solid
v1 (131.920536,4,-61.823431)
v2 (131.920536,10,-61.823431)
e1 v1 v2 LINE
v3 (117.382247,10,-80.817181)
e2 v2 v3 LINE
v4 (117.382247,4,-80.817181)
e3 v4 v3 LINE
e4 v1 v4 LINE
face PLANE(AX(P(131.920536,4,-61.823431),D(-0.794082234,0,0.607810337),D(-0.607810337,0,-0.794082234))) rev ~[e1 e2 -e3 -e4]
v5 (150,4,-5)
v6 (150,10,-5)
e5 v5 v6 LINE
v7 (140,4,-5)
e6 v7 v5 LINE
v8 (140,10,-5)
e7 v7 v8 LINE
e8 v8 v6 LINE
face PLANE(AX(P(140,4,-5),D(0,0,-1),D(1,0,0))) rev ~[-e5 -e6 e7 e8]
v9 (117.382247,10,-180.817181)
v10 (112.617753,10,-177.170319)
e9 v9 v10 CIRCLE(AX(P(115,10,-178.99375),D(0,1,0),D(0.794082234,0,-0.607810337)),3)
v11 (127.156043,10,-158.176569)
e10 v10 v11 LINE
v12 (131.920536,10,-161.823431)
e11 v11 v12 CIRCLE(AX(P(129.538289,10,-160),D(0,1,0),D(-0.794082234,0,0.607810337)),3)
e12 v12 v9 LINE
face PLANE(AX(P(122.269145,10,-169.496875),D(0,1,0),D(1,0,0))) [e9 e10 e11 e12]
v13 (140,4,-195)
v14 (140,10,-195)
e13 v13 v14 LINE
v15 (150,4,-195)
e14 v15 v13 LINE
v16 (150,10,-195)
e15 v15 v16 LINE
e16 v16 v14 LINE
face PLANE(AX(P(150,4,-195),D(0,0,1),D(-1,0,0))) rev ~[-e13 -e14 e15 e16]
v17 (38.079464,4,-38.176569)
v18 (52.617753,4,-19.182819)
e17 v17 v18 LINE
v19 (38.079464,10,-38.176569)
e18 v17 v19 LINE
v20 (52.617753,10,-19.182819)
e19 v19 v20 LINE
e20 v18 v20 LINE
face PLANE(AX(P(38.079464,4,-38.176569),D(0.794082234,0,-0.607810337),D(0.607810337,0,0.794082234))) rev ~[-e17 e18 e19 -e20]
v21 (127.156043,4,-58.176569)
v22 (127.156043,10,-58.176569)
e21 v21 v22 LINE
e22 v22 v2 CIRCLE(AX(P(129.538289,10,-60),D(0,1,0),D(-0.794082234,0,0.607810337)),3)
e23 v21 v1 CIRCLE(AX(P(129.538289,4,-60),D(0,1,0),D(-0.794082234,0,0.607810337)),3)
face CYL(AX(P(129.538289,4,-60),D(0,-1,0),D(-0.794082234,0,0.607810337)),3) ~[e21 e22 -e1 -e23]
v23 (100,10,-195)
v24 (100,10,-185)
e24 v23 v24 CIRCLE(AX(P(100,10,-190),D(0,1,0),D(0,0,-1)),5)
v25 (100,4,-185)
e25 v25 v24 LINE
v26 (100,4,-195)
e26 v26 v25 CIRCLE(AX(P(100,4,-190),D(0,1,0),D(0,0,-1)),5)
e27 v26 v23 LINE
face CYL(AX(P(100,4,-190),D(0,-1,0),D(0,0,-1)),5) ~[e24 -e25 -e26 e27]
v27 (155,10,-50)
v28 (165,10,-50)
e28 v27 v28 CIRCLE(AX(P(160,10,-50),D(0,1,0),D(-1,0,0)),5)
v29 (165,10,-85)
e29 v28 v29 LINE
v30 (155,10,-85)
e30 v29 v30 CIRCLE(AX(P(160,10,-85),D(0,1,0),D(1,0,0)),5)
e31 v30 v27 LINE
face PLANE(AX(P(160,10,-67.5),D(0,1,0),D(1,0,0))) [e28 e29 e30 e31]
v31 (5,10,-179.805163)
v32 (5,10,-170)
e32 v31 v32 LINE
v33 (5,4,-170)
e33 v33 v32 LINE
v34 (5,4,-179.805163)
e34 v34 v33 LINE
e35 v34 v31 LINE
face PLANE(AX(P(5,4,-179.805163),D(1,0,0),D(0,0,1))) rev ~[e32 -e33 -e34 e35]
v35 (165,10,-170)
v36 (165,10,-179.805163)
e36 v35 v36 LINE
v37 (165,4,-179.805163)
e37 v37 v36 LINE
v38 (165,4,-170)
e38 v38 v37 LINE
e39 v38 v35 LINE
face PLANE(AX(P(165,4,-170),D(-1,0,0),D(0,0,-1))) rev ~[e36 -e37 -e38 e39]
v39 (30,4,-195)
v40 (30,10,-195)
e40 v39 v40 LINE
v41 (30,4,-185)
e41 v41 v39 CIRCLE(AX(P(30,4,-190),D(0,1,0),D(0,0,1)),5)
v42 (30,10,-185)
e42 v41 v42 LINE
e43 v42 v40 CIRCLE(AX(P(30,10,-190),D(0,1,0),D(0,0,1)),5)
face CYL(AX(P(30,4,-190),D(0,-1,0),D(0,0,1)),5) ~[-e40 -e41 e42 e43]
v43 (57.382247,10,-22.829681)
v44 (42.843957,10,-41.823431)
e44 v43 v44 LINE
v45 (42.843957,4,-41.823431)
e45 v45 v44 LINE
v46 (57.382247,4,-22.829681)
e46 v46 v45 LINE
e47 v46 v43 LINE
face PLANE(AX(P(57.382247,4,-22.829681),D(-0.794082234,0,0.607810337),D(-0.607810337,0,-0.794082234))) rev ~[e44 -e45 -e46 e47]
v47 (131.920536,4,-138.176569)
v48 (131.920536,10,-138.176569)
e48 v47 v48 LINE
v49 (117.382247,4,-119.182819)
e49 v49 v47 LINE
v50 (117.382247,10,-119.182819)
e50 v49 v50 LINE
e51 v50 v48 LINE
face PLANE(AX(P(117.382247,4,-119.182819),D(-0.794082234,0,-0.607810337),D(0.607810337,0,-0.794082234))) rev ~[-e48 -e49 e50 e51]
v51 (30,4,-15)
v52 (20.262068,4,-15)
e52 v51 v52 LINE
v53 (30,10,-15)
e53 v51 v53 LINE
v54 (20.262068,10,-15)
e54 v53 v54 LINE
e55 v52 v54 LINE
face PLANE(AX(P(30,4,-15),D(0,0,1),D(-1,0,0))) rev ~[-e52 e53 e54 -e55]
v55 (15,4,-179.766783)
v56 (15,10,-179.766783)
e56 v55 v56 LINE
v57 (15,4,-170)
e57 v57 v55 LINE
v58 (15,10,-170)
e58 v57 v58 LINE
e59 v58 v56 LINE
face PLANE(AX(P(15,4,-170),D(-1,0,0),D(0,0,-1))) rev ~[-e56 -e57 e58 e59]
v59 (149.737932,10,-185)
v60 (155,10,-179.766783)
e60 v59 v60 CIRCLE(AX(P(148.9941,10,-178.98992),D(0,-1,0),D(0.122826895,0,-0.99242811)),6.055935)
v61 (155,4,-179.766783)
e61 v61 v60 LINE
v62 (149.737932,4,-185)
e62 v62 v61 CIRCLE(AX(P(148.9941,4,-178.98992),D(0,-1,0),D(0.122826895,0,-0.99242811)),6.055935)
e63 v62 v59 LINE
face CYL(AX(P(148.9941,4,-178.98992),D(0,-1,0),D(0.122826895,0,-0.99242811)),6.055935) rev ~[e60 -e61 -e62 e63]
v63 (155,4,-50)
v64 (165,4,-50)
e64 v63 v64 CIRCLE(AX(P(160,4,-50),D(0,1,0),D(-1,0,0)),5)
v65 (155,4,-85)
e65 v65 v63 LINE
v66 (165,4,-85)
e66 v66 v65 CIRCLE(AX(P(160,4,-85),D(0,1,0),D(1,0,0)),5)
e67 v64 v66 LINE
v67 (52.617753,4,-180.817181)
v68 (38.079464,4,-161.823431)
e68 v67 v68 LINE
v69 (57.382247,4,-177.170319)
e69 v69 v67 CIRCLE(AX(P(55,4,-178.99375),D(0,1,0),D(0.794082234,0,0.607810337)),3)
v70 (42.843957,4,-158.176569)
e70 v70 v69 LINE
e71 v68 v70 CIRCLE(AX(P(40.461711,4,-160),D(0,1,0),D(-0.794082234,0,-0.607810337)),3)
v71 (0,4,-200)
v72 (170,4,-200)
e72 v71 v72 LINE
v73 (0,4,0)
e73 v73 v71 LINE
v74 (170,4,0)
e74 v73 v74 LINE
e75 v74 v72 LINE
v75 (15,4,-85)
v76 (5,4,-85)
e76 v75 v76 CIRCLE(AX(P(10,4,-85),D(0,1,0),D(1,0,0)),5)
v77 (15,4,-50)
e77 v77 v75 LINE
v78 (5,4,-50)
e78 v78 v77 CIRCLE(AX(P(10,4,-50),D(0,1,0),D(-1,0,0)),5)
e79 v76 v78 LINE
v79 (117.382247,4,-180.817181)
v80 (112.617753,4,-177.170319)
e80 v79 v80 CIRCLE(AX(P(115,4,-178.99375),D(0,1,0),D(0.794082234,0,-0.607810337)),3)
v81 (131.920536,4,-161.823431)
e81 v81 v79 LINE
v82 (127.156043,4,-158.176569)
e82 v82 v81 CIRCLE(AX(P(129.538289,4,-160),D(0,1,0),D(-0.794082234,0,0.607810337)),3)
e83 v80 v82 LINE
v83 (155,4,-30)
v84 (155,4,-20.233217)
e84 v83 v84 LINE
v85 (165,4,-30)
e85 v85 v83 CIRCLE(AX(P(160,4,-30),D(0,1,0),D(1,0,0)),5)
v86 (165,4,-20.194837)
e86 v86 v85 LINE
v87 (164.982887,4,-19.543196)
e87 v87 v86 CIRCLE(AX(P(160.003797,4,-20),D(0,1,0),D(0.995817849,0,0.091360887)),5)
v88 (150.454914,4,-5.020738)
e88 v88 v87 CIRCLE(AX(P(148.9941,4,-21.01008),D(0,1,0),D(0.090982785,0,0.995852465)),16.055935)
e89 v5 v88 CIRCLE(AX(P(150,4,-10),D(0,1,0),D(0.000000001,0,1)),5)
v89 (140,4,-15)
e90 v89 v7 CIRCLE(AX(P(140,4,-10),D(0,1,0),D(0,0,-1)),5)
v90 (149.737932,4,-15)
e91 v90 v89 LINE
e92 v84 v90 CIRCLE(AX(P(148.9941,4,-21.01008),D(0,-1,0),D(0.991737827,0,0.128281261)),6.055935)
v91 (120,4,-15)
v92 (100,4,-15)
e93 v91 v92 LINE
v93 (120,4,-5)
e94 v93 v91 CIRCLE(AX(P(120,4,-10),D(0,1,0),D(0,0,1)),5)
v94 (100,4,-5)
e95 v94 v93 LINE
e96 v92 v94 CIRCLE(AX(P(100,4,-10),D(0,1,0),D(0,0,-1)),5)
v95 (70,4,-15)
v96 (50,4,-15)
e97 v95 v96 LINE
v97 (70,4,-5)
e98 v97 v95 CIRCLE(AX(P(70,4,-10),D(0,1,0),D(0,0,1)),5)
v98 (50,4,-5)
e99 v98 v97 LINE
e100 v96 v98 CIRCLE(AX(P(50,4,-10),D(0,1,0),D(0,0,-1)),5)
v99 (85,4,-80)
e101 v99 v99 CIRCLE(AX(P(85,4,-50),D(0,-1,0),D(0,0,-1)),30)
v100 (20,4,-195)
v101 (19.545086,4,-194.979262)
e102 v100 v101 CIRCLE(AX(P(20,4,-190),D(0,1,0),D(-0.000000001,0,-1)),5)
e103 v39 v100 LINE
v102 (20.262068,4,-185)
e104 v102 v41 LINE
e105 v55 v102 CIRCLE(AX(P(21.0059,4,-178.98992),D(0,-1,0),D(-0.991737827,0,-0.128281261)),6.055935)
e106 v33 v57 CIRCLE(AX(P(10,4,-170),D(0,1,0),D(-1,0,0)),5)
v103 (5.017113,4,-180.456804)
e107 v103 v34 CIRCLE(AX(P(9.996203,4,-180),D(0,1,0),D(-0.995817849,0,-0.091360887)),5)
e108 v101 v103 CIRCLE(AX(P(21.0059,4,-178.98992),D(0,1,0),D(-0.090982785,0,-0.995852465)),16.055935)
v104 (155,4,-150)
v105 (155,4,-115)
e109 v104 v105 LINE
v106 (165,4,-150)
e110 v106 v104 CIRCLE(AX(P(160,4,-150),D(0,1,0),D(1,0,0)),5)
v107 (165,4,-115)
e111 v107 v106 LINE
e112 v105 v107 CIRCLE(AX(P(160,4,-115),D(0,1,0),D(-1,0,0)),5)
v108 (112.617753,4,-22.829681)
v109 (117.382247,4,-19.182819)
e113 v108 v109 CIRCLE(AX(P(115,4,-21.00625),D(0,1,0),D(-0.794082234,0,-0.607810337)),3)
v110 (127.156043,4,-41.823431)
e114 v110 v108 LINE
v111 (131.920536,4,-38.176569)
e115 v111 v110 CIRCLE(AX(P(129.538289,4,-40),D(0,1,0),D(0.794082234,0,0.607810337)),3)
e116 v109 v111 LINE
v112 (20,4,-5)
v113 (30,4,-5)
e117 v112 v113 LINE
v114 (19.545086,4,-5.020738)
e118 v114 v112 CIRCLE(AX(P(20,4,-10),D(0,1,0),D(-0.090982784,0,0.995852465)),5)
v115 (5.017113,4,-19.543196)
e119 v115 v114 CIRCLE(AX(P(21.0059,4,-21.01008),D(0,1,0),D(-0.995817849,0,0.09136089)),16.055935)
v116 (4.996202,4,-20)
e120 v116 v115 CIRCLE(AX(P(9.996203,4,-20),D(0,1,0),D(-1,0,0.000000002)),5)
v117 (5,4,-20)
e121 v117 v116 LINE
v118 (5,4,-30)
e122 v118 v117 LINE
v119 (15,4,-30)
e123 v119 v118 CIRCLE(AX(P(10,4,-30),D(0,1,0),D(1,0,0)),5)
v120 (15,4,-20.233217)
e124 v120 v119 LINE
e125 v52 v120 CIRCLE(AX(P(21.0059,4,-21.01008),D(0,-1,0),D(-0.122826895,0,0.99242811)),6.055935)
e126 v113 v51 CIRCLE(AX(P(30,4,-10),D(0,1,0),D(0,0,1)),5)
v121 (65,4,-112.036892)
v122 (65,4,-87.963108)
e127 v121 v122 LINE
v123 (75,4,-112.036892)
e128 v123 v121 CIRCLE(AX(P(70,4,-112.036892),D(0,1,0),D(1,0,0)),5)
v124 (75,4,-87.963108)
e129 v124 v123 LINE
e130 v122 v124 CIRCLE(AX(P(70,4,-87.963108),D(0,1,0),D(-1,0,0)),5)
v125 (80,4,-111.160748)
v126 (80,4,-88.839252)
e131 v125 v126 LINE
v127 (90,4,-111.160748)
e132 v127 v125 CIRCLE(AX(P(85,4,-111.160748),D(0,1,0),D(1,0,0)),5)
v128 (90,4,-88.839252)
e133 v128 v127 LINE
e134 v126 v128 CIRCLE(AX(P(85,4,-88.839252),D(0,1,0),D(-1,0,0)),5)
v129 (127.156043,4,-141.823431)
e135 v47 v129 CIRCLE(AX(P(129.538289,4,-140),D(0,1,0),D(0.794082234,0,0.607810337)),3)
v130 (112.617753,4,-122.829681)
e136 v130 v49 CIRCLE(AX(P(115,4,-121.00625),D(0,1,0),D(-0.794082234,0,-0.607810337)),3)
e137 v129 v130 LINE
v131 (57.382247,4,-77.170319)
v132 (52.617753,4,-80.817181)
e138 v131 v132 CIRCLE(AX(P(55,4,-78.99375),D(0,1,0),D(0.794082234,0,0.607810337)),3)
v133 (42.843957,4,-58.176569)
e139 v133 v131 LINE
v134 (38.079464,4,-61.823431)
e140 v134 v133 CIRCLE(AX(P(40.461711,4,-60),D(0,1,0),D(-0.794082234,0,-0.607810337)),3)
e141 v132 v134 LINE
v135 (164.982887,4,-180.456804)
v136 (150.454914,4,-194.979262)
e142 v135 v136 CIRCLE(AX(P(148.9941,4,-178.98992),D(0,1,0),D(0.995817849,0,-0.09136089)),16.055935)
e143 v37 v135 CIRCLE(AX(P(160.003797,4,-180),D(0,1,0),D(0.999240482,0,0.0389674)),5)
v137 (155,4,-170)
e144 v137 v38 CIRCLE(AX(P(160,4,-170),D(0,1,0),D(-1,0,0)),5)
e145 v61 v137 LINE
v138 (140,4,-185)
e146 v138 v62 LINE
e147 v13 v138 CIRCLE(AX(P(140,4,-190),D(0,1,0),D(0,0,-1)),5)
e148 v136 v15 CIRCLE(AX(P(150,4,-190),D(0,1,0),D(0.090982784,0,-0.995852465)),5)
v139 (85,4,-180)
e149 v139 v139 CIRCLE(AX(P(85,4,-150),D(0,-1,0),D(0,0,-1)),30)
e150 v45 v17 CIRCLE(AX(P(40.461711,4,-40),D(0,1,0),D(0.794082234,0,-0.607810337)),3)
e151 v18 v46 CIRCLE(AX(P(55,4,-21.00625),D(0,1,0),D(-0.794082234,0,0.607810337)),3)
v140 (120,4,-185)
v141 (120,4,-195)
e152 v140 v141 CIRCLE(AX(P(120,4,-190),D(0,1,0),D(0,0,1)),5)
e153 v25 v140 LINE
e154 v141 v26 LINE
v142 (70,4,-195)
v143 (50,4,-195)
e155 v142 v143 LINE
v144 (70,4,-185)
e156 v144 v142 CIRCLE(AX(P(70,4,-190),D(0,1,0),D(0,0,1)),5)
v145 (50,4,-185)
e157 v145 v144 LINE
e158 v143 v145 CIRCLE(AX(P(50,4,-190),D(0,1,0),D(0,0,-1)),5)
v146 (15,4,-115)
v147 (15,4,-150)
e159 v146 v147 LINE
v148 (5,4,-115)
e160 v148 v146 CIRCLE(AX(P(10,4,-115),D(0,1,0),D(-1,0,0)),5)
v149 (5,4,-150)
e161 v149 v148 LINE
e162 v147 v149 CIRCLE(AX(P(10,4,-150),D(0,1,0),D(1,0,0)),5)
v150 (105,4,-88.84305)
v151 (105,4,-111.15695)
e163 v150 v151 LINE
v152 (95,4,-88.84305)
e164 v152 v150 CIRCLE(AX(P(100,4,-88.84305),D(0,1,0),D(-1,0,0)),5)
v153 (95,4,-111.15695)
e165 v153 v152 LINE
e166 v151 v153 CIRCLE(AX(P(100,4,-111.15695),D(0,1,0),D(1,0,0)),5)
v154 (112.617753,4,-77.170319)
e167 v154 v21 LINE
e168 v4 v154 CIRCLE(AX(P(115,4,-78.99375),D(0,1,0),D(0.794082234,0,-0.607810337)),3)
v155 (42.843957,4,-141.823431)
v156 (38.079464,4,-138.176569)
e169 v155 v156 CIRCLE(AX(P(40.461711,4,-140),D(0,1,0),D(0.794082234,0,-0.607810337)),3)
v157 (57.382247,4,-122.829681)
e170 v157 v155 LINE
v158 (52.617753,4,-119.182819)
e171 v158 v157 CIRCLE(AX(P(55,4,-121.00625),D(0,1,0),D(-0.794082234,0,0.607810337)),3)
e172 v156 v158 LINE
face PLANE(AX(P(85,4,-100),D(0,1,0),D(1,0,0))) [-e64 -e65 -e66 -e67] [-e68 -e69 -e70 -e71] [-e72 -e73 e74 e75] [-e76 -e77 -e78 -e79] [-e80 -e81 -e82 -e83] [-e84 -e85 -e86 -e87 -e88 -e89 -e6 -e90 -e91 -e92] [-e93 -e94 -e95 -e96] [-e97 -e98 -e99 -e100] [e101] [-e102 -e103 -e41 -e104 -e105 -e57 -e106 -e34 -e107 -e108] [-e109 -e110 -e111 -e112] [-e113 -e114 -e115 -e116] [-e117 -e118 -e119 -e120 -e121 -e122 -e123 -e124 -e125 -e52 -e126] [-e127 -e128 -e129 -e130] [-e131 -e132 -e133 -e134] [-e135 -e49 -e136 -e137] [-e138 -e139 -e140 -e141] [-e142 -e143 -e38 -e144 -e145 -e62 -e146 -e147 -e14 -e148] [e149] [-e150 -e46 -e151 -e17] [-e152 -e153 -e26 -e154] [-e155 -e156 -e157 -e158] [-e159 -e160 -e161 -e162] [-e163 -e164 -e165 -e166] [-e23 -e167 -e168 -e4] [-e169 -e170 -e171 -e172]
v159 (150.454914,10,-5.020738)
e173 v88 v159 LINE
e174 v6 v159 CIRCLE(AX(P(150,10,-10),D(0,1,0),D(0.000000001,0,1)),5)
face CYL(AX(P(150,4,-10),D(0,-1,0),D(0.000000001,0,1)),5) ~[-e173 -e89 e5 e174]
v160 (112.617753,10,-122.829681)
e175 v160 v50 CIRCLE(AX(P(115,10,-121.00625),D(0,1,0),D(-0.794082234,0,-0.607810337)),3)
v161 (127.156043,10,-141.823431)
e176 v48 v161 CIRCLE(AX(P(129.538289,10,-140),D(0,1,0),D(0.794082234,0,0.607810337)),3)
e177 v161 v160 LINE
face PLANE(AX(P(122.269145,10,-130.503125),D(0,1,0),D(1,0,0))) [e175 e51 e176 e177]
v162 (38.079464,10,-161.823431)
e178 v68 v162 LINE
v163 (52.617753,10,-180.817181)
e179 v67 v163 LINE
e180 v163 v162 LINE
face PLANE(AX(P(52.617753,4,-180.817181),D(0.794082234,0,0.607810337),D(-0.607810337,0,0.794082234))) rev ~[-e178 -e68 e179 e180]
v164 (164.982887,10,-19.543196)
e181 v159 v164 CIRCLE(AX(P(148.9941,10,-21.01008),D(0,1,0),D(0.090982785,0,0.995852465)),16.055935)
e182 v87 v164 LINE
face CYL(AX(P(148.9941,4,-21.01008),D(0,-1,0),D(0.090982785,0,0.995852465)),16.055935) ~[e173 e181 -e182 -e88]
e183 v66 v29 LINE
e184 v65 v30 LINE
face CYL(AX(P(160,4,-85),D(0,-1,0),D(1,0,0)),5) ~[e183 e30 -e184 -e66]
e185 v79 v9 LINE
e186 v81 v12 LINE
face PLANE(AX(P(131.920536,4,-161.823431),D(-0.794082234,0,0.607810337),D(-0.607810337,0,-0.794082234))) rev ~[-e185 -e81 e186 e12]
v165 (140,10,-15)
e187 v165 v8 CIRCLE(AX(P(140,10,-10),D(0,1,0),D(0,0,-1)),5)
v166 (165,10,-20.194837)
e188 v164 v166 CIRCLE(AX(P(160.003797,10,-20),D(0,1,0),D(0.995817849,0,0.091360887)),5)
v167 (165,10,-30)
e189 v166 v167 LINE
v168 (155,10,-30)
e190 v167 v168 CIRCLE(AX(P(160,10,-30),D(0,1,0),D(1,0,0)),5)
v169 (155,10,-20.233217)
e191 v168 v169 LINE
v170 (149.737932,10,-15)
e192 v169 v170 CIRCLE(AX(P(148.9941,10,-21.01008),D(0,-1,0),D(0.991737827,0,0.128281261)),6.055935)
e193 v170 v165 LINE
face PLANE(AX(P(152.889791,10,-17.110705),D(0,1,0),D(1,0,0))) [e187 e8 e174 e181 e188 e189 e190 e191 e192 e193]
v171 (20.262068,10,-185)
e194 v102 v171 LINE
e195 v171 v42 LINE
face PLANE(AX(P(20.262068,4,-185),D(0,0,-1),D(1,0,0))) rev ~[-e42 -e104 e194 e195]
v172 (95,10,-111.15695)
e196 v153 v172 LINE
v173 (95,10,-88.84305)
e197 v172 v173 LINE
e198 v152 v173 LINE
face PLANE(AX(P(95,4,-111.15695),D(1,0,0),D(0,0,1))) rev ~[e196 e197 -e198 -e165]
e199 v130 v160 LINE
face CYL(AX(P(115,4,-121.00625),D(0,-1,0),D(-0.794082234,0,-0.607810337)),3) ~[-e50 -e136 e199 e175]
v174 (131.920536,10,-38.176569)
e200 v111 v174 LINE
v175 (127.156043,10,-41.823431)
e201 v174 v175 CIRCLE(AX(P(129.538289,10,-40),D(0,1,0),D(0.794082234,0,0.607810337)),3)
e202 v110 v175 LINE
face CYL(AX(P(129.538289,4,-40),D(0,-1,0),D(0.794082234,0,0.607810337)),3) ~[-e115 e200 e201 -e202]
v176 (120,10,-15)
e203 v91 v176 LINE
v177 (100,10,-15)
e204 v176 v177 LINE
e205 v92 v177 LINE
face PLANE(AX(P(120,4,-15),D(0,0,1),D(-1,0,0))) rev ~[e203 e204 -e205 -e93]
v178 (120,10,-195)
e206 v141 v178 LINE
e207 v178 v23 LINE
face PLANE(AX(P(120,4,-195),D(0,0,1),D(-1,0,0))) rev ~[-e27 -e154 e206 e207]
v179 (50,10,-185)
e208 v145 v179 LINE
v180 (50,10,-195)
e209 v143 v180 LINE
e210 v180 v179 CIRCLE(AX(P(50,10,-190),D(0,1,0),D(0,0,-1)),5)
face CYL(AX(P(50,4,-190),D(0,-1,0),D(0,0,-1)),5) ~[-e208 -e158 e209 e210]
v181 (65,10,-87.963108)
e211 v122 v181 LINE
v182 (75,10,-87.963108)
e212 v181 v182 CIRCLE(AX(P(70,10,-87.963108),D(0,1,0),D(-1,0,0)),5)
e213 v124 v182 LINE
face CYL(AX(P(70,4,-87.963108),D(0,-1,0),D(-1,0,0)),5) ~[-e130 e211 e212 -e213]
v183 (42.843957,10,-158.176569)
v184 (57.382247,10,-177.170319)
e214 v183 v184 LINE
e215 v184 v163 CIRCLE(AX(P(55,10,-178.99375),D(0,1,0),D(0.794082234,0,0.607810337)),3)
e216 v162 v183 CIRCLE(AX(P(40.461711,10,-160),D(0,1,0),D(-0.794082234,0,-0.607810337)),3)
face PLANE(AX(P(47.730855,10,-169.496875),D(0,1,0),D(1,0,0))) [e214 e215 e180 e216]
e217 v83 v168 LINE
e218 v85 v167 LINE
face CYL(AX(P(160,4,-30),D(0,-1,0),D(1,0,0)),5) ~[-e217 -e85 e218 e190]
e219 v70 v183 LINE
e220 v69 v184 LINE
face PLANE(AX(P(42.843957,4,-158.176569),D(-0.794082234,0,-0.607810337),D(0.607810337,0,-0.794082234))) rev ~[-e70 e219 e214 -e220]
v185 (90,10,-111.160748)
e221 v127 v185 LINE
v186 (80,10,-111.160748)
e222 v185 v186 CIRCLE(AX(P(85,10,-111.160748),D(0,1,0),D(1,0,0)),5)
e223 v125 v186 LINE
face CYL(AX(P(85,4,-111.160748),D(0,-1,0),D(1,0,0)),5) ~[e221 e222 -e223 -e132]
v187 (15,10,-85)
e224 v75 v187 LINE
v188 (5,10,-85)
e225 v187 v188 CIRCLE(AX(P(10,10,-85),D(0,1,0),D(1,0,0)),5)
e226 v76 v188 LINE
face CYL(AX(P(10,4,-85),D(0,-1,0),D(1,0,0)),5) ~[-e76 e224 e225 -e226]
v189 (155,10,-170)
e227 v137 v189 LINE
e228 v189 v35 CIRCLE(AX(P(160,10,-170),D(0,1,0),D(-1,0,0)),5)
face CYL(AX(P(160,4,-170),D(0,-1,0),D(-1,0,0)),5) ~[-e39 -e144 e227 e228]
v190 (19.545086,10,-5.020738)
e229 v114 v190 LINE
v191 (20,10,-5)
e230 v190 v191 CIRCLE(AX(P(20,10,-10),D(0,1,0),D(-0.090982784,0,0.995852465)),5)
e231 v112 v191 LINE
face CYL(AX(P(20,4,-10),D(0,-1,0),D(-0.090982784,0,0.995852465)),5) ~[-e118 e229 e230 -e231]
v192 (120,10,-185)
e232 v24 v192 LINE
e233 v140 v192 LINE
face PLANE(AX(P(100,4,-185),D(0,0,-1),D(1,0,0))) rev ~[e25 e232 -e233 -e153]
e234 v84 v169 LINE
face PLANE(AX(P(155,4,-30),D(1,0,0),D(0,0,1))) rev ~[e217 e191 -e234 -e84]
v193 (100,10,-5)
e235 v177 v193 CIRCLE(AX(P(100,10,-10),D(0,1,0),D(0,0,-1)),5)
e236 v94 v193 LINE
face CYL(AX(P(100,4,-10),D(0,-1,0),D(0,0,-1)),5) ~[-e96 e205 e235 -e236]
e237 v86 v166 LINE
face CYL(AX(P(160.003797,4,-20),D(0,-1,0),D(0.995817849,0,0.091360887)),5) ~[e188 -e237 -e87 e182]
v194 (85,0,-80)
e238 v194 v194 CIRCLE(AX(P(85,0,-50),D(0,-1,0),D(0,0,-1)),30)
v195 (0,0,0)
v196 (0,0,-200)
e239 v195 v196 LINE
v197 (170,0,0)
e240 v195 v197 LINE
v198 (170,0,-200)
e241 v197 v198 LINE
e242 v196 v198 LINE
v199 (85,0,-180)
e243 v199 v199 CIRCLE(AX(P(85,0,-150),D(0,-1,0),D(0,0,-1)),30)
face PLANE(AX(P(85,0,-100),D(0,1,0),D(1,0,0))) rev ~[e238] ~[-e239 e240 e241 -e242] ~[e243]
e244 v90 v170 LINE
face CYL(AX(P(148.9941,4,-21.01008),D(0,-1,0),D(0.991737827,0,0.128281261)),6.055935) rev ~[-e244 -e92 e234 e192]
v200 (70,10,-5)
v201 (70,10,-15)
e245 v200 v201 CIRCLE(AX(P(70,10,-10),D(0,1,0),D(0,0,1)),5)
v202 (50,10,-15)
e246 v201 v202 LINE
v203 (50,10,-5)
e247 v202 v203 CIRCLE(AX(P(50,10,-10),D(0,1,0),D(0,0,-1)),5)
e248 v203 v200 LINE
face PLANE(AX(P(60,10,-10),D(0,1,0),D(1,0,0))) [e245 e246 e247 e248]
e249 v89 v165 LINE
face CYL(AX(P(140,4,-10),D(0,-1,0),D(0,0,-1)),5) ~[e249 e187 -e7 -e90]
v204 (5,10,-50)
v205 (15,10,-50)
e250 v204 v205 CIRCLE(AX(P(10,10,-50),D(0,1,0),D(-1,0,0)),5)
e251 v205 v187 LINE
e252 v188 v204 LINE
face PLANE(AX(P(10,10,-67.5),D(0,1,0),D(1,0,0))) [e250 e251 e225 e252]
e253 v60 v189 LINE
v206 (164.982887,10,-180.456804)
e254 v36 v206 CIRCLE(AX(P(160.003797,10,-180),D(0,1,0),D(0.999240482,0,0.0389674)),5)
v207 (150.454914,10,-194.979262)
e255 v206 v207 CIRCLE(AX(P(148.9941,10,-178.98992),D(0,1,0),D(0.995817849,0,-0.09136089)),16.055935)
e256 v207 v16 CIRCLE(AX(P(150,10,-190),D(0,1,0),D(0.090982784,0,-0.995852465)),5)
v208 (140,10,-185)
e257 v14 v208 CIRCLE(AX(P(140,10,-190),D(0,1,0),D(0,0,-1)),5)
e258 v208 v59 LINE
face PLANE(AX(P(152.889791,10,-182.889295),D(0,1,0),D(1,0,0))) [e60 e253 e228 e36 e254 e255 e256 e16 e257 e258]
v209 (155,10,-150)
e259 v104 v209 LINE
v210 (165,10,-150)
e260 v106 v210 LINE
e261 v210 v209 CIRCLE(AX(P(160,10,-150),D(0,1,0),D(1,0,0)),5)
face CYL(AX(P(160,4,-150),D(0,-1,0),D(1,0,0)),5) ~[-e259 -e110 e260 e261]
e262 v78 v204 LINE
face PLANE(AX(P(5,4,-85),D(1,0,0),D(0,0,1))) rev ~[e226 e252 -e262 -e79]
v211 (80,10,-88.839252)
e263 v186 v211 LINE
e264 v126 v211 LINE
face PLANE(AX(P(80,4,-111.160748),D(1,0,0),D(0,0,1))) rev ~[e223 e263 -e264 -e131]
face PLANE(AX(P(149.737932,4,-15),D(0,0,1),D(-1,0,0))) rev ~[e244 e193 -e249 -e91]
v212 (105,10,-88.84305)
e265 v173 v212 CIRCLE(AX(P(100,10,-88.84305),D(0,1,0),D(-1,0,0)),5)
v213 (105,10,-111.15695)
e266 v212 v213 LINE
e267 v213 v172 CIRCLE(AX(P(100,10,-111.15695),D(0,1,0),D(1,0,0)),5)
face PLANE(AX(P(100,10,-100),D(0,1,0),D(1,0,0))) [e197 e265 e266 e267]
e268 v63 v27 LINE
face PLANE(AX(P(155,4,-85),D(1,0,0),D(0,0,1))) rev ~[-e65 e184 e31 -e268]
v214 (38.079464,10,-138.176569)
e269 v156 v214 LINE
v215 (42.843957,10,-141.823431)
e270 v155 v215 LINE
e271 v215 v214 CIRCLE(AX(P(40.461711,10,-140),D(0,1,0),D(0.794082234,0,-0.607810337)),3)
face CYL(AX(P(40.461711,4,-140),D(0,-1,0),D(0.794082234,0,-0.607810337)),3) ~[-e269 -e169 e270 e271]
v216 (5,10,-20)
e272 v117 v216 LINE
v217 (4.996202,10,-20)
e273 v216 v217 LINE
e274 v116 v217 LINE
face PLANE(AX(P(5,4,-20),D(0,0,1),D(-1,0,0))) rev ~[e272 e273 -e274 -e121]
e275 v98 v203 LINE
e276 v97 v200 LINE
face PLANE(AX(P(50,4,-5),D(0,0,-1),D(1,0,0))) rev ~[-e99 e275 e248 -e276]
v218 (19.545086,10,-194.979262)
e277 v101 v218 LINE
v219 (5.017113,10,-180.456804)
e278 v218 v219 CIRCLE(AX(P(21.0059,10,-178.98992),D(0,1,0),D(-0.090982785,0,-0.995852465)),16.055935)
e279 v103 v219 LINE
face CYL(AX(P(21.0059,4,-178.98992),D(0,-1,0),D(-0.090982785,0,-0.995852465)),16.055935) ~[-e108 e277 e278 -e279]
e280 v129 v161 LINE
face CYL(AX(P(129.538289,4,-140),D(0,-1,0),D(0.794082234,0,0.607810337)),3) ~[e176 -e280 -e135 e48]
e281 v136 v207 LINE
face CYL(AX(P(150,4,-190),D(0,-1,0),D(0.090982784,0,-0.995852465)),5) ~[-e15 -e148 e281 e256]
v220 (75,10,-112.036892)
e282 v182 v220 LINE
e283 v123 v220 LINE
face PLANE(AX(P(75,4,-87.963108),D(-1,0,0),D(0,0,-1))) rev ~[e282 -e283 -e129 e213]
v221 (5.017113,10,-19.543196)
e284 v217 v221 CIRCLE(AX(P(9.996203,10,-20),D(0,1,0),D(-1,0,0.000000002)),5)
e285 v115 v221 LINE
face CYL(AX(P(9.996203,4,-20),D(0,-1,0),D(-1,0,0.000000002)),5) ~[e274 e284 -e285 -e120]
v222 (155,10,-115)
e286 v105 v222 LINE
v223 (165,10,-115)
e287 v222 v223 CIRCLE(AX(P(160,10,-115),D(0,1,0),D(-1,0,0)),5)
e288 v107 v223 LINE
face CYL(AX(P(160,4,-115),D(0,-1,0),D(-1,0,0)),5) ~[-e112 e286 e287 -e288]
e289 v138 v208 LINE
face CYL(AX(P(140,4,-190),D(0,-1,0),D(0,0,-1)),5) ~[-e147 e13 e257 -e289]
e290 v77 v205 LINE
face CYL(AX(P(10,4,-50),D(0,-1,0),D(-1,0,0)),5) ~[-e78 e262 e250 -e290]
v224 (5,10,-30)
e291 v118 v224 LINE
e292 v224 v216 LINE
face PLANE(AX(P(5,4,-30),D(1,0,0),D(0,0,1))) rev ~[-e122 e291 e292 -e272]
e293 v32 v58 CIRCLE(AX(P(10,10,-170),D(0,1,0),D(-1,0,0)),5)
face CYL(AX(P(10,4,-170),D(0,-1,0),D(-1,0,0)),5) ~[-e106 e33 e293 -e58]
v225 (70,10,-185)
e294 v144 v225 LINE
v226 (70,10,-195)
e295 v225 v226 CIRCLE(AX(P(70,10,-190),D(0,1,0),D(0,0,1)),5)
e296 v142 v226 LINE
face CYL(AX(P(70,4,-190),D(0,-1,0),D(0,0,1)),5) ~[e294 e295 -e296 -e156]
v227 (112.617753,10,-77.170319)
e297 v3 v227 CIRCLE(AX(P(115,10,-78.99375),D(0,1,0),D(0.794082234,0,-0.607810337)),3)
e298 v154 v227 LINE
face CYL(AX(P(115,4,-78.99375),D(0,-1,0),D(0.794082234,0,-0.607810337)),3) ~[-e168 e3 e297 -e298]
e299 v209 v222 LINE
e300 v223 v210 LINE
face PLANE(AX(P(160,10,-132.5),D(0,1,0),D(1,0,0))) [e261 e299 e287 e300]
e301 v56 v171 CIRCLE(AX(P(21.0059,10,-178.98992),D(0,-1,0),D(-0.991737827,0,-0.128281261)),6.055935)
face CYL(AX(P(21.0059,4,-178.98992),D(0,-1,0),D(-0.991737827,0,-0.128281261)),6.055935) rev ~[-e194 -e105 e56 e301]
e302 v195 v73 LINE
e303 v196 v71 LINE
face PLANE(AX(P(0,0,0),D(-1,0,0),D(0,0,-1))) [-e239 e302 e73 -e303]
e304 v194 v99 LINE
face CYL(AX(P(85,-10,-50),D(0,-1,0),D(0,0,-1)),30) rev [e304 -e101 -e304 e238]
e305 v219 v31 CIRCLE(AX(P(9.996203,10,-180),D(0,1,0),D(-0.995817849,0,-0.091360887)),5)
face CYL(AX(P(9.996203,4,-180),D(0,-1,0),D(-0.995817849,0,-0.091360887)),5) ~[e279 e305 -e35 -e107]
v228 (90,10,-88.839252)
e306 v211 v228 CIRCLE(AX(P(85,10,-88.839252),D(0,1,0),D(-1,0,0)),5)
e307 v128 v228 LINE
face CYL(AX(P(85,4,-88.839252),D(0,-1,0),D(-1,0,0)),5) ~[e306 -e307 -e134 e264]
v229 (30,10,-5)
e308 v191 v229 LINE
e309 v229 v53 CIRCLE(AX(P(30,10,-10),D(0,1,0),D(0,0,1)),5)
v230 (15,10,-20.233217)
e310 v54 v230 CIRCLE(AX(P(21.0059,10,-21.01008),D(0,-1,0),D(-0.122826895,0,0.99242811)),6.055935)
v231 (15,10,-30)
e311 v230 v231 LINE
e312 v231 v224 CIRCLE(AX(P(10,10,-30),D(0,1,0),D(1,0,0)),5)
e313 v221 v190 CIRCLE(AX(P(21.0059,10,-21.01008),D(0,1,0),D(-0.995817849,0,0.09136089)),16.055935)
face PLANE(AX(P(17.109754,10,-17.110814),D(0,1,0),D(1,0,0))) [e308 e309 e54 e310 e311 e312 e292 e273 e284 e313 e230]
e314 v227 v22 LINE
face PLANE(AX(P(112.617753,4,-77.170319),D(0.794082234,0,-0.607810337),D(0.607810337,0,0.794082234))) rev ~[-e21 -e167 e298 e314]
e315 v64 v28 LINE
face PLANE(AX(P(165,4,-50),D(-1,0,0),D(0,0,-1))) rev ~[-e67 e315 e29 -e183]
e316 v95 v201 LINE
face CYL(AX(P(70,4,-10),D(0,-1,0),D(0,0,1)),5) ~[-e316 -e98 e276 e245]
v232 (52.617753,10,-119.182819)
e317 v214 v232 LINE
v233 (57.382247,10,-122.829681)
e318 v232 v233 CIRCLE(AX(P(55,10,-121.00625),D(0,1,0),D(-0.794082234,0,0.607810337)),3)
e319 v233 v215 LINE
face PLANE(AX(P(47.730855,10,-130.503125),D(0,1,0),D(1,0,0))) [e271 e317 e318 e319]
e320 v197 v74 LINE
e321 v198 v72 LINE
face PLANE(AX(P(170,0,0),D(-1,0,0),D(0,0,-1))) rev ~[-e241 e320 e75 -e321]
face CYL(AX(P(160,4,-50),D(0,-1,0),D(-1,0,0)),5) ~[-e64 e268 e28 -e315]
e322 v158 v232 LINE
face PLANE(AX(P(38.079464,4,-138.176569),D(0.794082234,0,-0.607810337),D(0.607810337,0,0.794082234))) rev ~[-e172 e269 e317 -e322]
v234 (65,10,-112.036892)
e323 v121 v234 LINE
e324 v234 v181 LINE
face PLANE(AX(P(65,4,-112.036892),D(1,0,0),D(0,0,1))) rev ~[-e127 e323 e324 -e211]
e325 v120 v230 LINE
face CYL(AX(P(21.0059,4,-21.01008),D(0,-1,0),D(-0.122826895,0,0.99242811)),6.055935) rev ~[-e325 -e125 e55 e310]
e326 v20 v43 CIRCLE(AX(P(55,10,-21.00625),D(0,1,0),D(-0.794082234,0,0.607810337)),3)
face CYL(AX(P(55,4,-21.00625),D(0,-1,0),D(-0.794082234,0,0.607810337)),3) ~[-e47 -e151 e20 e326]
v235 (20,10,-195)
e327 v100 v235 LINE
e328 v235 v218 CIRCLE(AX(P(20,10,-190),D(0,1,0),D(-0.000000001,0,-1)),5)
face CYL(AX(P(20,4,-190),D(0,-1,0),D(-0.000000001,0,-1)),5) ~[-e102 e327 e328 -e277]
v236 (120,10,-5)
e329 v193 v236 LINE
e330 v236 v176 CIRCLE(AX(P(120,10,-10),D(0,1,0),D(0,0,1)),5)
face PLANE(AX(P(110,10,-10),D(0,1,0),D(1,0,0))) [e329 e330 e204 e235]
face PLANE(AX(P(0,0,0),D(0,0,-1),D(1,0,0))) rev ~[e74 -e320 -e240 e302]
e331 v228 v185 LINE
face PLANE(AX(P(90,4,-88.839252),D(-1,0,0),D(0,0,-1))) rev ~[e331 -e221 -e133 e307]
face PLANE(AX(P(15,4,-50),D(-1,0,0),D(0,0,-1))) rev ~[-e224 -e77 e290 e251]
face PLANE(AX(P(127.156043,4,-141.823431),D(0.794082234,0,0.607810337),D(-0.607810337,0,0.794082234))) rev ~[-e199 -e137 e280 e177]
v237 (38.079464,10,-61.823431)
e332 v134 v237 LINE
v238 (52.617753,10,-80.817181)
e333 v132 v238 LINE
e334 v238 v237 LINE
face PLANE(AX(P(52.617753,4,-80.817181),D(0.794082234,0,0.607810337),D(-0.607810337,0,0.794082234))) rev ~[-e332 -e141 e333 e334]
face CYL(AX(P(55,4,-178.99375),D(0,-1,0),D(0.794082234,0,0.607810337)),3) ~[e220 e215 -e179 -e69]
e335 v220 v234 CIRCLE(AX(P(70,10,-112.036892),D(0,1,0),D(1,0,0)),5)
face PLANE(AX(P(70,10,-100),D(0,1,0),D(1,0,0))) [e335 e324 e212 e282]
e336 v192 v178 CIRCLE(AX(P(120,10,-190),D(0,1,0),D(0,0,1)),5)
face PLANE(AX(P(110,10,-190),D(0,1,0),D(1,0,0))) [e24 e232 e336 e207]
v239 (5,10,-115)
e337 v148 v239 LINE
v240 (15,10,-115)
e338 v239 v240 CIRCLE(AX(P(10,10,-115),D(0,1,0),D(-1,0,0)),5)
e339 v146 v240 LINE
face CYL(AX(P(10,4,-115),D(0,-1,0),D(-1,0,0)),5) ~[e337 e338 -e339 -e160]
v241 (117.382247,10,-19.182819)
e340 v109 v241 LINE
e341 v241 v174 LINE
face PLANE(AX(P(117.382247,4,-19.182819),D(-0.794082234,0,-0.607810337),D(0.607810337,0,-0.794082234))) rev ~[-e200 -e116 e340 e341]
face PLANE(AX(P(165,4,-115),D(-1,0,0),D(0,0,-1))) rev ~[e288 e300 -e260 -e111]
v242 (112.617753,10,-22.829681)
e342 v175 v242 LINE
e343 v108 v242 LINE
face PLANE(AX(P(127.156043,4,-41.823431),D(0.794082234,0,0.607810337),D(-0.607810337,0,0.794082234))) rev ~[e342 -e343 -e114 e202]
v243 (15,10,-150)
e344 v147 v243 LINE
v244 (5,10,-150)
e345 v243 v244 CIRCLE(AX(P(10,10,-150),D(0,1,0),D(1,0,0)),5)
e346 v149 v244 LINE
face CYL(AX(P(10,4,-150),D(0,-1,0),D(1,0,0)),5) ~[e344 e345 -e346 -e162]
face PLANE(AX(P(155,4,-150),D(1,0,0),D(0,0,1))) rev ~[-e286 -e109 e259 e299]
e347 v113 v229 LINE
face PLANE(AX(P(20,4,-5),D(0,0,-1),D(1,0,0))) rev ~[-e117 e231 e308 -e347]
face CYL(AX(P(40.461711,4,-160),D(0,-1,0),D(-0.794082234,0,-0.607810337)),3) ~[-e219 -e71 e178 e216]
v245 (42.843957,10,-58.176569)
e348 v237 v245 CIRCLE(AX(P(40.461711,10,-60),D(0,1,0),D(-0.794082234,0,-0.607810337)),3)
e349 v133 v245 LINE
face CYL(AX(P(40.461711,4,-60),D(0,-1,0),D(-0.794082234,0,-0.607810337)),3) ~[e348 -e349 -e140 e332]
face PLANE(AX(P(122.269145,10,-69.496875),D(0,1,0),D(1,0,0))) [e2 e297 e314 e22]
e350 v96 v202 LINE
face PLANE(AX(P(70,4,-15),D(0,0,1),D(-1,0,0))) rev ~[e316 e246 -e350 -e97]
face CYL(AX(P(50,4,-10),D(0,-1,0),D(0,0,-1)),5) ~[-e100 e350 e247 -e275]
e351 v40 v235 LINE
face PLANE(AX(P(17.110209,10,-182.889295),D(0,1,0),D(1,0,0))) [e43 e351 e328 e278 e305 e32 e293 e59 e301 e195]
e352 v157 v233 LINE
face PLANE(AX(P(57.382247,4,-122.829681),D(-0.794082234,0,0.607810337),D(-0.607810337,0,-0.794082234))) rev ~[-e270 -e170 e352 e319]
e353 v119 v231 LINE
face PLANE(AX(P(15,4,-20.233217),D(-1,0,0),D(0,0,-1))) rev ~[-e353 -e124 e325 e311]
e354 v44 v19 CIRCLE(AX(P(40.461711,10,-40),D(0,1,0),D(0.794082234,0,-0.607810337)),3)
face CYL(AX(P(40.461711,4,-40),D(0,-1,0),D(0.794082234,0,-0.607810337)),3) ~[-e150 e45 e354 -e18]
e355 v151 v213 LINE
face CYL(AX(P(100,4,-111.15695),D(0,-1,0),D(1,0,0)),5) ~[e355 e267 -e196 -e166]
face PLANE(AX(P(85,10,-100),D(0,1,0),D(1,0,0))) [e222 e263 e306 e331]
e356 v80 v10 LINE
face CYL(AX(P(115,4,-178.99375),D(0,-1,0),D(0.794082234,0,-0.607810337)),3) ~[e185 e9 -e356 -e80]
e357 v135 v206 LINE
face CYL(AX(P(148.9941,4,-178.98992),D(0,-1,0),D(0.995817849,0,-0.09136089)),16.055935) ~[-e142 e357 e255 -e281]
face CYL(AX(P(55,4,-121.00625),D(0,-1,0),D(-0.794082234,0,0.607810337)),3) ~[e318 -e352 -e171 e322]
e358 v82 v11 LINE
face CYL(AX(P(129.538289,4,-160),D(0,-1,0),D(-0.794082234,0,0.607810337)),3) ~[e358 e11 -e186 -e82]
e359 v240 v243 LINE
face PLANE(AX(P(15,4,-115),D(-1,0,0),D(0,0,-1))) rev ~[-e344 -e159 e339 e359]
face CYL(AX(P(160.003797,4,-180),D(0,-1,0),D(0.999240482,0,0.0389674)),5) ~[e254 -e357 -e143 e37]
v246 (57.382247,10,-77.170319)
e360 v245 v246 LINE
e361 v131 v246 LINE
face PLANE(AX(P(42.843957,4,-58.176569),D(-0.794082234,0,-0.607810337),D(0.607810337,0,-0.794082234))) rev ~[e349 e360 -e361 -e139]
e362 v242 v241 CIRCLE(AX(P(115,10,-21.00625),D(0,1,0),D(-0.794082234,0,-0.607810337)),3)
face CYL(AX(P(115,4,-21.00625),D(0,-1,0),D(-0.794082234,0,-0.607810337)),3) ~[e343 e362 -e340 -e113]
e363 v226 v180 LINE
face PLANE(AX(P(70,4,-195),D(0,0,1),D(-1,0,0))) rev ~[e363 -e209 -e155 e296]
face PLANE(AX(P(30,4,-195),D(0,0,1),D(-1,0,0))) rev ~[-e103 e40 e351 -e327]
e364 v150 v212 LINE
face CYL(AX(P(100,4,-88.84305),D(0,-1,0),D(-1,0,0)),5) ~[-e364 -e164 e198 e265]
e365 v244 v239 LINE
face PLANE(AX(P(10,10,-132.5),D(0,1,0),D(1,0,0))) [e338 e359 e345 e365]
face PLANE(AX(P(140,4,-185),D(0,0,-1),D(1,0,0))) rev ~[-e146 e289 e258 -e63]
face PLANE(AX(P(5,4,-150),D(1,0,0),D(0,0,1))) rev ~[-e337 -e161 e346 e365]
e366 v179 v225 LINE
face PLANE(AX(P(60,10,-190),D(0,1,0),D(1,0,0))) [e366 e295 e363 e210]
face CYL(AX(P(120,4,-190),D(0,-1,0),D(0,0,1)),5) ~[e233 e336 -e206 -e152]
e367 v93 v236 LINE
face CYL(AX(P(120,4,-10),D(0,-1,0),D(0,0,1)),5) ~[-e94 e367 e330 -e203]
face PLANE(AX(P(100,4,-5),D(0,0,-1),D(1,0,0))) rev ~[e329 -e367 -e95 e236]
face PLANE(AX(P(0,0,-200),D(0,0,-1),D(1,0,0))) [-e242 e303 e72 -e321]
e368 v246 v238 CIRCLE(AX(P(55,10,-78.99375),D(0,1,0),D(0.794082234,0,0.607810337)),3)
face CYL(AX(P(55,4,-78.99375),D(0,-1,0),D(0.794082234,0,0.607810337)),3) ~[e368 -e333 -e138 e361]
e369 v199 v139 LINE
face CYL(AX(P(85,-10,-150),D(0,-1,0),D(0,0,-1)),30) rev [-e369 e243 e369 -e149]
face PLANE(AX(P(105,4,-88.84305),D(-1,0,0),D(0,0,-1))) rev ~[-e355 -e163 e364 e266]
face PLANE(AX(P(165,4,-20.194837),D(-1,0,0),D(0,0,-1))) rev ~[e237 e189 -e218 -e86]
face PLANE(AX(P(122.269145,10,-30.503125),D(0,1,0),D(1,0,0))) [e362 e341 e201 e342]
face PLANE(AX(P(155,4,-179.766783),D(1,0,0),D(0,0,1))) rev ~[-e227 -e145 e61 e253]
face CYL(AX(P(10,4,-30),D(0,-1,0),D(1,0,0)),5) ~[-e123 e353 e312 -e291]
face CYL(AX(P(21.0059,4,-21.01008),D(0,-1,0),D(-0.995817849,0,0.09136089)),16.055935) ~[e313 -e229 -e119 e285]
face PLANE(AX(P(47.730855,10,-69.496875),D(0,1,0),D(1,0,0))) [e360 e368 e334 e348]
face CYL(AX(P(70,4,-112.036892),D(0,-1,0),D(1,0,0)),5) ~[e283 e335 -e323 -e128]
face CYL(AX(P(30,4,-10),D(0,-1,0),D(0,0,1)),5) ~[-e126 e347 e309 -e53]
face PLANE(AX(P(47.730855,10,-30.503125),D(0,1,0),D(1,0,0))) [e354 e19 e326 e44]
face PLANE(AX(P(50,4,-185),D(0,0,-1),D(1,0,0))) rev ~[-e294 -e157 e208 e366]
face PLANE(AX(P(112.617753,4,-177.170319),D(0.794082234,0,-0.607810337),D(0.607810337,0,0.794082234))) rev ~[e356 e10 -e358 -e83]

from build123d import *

# Parameters (mm, degrees)
SKETCH1_W               = 170
SKETCH1_H               = 200
BOSS_EXTRUDE1_DEPTH     = 4
BOSS_EXTRUDE2_DEPTH     = 6
CUT_EXTRUDE2_DEPTH      = 263.678510731
CUT_EXTRUDE2_DEPTH_BACK = 10
SKETCH4_R               = 30


with BuildPart() as part:
    # Sketch1 → Boss-Extrude1 (new body)
    with BuildSketch(Plane(origin=(0, 0, 0), x_dir=(1, 0, 0), z_dir=(0, 1, 0))):
        with Locations((85, 100)):
            Rectangle(SKETCH1_W, SKETCH1_H)
    extrude(amount=BOSS_EXTRUDE1_DEPTH)

    # Sketch3 → Boss-Extrude2 (add)
    with BuildSketch(Plane(origin=(0, 4, 0), x_dir=(1, 0, 0), z_dir=(0, 1, 0))):
        with BuildLine():
            Line((30, 15), (20.262068061, 15))
            ThreePointArc((20.262068061, 15), (16.735494747, 16.716132106), (15, 20.233217082))
            Line((15, 20.233217082), (15, 30))
            ThreePointArc((15, 30), (10, 35), (5, 30))
            Line((5, 30), (5, 20))
            Line((5, 20), (4.996202412, 20))
            ThreePointArc((4.996202412, 20), (5.001432837, 19.771358596), (5.017113168, 19.54319555))
            ThreePointArc((5.017113168, 19.54319555), (9.654794827, 9.654664453), (19.545086076, 5.020737673))
            ThreePointArc((19.545086076, 5.020737673), (19.772306824, 5.005187109), (20, 5))
            Line((20, 5), (30, 5))
            ThreePointArc((30, 5), (35, 10), (30, 15))
        make_face()
        with BuildLine():
            Line((5, 85), (5, 50))
            ThreePointArc((5, 50), (10, 45), (15, 50))
            Line((15, 50), (15, 85))
            ThreePointArc((15, 85), (10, 90), (5, 85))
        make_face()
        with BuildLine():
            Line((70, 15), (50, 15))
            ThreePointArc((50, 15), (45, 10), (50, 5))
            Line((50, 5), (70, 5))
            ThreePointArc((70, 5), (75, 10), (70, 15))
        make_face()
        with BuildLine():
            ThreePointArc((155, 50), (160, 45), (165, 50))
            Line((165, 50), (165, 85))
            ThreePointArc((165, 85), (160, 90), (155, 85))
            Line((155, 85), (155, 50))
        make_face()
        with BuildLine():
            ThreePointArc((155, 20.233217082), (153.264505253, 16.716132106), (149.737931939, 15))
            Line((149.737931939, 15), (140, 15))
            ThreePointArc((140, 15), (135, 10), (140, 5))
            Line((140, 5), (150, 5))
            ThreePointArc((150, 5), (150.227693176, 5.005187109), (150.454913924, 5.020737673))
            ThreePointArc((150.454913924, 5.020737673), (160.345205173, 9.654664453), (164.982886832, 19.54319555))
            ThreePointArc((164.982886832, 19.54319555), (165.002074296, 19.868737095), (165, 20.194837008))
            Line((165, 20.194837008), (165, 30))
            ThreePointArc((165, 30), (160, 35), (155, 30))
            Line((155, 30), (155, 20.233217082))
        make_face()
        with BuildLine():
            ThreePointArc((120, 5), (125, 10), (120, 15))
            Line((120, 15), (100, 15))
            ThreePointArc((100, 15), (95, 10), (100, 5))
            Line((100, 5), (120, 5))
        make_face()
        with BuildLine():
            Line((165, 115), (165, 150))
            ThreePointArc((165, 150), (160, 155), (155, 150))
            Line((155, 150), (155, 115))
            ThreePointArc((155, 115), (160, 110), (165, 115))
        make_face()
        with BuildLine():
            Line((155, 179.766782918), (155, 170))
            ThreePointArc((155, 170), (160, 165), (165, 170))
            Line((165, 170), (165, 179.805162992))
            ThreePointArc((165, 179.805162992), (165.002074296, 180.131262905), (164.982886832, 180.45680445))
            ThreePointArc((164.982886832, 180.45680445), (160.345205173, 190.345335547), (150.454913924, 194.979262327))
            ThreePointArc((150.454913924, 194.979262327), (150.227693176, 194.994812891), (150, 195))
            Line((150, 195), (140, 195))
            ThreePointArc((140, 195), (135, 190), (140, 185))
            Line((140, 185), (149.737931939, 185))
            ThreePointArc((149.737931939, 185), (153.264505253, 183.283867894), (155, 179.766782918))
        make_face()
        with BuildLine():
            Line((100, 185), (120, 185))
            ThreePointArc((120, 185), (125, 190), (120, 195))
            Line((120, 195), (100, 195))
            ThreePointArc((100, 195), (95, 190), (100, 185))
        make_face()
        with BuildLine():
            ThreePointArc((50, 195), (45, 190), (50, 185))
            Line((50, 185), (70, 185))
            ThreePointArc((70, 185), (75, 190), (70, 195))
            Line((70, 195), (50, 195))
        make_face()
        with BuildLine():
            ThreePointArc((20, 195), (19.772306824, 194.994812891), (19.545086076, 194.979262327))
            ThreePointArc((19.545086076, 194.979262327), (9.654794827, 190.345335547), (5.017113168, 180.45680445))
            ThreePointArc((5.017113168, 180.45680445), (4.997925704, 180.131262905), (5, 179.805162992))
            Line((5, 179.805162992), (5, 170))
            ThreePointArc((5, 170), (10, 165), (15, 170))
            Line((15, 170), (15, 179.766782918))
            ThreePointArc((15, 179.766782918), (16.735494747, 183.283867894), (20.262068061, 185))
            Line((20.262068061, 185), (30, 185))
            ThreePointArc((30, 185), (35, 190), (30, 195))
            Line((30, 195), (20, 195))
        make_face()
        with BuildLine():
            ThreePointArc((15, 150), (10, 155), (5, 150))
            Line((5, 150), (5, 115))
            ThreePointArc((5, 115), (10, 110), (15, 115))
            Line((15, 115), (15, 150))
        make_face()
        with BuildLine():
            Line((90, 88.83925215), (90, 111.16074785))
            ThreePointArc((90, 111.16074785), (85, 116.16074785), (80, 111.16074785))
            Line((80, 111.16074785), (80, 88.83925215))
            ThreePointArc((80, 88.83925215), (85, 83.83925215), (90, 88.83925215))
        make_face()
        with BuildLine():
            Line((75, 87.963108376), (75, 112.036891624))
            ThreePointArc((75, 112.036891624), (70, 117.036891624), (65, 112.036891624))
            Line((65, 112.036891624), (65, 87.963108376))
            ThreePointArc((65, 87.963108376), (70, 82.963108376), (75, 87.963108376))
        make_face()
        with BuildLine():
            Line((105, 88.843049738), (105, 111.156950262))
            ThreePointArc((105, 111.156950262), (100, 116.156950262), (95, 111.156950262))
            Line((95, 111.156950262), (95, 88.843049738))
            ThreePointArc((95, 88.843049738), (100, 83.843049738), (105, 88.843049738))
        make_face()
        with BuildLine():
            Line((57.382246702, 22.829681435), (42.843957296, 41.823431011))
            ThreePointArc((42.843957296, 41.823431011), (38.638279583, 42.382246702), (38.079463892, 38.176568989))
            Line((38.079463892, 38.176568989), (52.617753298, 19.182819413))
            ThreePointArc((52.617753298, 19.182819413), (56.823431011, 18.624003722), (57.382246702, 22.829681435))
        make_face()
        with BuildLine():
            ThreePointArc((131.920536108, 38.176568989), (131.361720417, 42.382246702), (127.156042704, 41.823431011))
            Line((127.156042704, 41.823431011), (112.617753298, 22.829681435))
            ThreePointArc((112.617753298, 22.829681435), (113.176568989, 18.624003722), (117.382246702, 19.182819413))
            Line((117.382246702, 19.182819413), (131.920536108, 38.176568989))
        make_face()
        with BuildLine():
            Line((112.617753298, 77.170318565), (127.156042704, 58.176568989))
            ThreePointArc((127.156042704, 58.176568989), (131.361720417, 57.617753298), (131.920536108, 61.823431011))
            Line((131.920536108, 61.823431011), (117.382246702, 80.817180587))
            ThreePointArc((117.382246702, 80.817180587), (113.176568989, 81.375996278), (112.617753298, 77.170318565))
        make_face()
        with BuildLine():
            ThreePointArc((38.079463892, 61.823431011), (38.638279583, 57.617753298), (42.843957296, 58.176568989))
            Line((42.843957296, 58.176568989), (57.382246702, 77.170318565))
            ThreePointArc((57.382246702, 77.170318565), (56.823431011, 81.375996278), (52.617753298, 80.817180587))
            Line((52.617753298, 80.817180587), (38.079463892, 61.823431011))
        make_face()
        with BuildLine():
            ThreePointArc((38.079463892, 161.823431011), (38.638279583, 157.617753298), (42.843957296, 158.176568989))
            Line((42.843957296, 158.176568989), (57.382246702, 177.170318565))
            ThreePointArc((57.382246702, 177.170318565), (56.823431011, 181.375996278), (52.617753298, 180.817180587))
            Line((52.617753298, 180.817180587), (38.079463892, 161.823431011))
        make_face()
        with BuildLine():
            Line((112.617753298, 177.170318565), (127.156042704, 158.176568989))
            ThreePointArc((127.156042704, 158.176568989), (131.361720417, 157.617753298), (131.920536108, 161.823431011))
            Line((131.920536108, 161.823431011), (117.382246702, 180.817180587))
            ThreePointArc((117.382246702, 180.817180587), (113.176568989, 181.375996278), (112.617753298, 177.170318565))
        make_face()
        with BuildLine():
            ThreePointArc((131.920536108, 138.176568989), (131.361720417, 142.382246702), (127.156042704, 141.823431011))
            Line((127.156042704, 141.823431011), (112.617753298, 122.829681435))
            ThreePointArc((112.617753298, 122.829681435), (113.176568989, 118.624003722), (117.382246702, 119.182819413))
            Line((117.382246702, 119.182819413), (131.920536108, 138.176568989))
        make_face()
        with BuildLine():
            Line((57.382246702, 122.829681435), (42.843957296, 141.823431011))
            ThreePointArc((42.843957296, 141.823431011), (38.638279583, 142.382246702), (38.079463892, 138.176568989))
            Line((38.079463892, 138.176568989), (52.617753298, 119.182819413))
            ThreePointArc((52.617753298, 119.182819413), (56.823431011, 118.624003722), (57.382246702, 122.829681435))
        make_face()
    extrude(amount=BOSS_EXTRUDE2_DEPTH)

    # Sketch4 → Cut-Extrude2 (cut, two sides: drawn at the far end of the back side and taken through both)
    with BuildSketch(Plane(origin=(0, 0, 0), x_dir=(1, 0, 0), z_dir=(0, 1, 0)).offset(-CUT_EXTRUDE2_DEPTH_BACK)):
        with Locations(Location((85, 50, 0), (0, 0, 90))):
            Circle(SKETCH4_R)
        with Locations(Location((85, 150, 0), (0, 0, 90))):
            Circle(SKETCH4_R)
    extrude(amount=CUT_EXTRUDE2_DEPTH + CUT_EXTRUDE2_DEPTH_BACK, mode=Mode.SUBTRACT)


solid = part.part
